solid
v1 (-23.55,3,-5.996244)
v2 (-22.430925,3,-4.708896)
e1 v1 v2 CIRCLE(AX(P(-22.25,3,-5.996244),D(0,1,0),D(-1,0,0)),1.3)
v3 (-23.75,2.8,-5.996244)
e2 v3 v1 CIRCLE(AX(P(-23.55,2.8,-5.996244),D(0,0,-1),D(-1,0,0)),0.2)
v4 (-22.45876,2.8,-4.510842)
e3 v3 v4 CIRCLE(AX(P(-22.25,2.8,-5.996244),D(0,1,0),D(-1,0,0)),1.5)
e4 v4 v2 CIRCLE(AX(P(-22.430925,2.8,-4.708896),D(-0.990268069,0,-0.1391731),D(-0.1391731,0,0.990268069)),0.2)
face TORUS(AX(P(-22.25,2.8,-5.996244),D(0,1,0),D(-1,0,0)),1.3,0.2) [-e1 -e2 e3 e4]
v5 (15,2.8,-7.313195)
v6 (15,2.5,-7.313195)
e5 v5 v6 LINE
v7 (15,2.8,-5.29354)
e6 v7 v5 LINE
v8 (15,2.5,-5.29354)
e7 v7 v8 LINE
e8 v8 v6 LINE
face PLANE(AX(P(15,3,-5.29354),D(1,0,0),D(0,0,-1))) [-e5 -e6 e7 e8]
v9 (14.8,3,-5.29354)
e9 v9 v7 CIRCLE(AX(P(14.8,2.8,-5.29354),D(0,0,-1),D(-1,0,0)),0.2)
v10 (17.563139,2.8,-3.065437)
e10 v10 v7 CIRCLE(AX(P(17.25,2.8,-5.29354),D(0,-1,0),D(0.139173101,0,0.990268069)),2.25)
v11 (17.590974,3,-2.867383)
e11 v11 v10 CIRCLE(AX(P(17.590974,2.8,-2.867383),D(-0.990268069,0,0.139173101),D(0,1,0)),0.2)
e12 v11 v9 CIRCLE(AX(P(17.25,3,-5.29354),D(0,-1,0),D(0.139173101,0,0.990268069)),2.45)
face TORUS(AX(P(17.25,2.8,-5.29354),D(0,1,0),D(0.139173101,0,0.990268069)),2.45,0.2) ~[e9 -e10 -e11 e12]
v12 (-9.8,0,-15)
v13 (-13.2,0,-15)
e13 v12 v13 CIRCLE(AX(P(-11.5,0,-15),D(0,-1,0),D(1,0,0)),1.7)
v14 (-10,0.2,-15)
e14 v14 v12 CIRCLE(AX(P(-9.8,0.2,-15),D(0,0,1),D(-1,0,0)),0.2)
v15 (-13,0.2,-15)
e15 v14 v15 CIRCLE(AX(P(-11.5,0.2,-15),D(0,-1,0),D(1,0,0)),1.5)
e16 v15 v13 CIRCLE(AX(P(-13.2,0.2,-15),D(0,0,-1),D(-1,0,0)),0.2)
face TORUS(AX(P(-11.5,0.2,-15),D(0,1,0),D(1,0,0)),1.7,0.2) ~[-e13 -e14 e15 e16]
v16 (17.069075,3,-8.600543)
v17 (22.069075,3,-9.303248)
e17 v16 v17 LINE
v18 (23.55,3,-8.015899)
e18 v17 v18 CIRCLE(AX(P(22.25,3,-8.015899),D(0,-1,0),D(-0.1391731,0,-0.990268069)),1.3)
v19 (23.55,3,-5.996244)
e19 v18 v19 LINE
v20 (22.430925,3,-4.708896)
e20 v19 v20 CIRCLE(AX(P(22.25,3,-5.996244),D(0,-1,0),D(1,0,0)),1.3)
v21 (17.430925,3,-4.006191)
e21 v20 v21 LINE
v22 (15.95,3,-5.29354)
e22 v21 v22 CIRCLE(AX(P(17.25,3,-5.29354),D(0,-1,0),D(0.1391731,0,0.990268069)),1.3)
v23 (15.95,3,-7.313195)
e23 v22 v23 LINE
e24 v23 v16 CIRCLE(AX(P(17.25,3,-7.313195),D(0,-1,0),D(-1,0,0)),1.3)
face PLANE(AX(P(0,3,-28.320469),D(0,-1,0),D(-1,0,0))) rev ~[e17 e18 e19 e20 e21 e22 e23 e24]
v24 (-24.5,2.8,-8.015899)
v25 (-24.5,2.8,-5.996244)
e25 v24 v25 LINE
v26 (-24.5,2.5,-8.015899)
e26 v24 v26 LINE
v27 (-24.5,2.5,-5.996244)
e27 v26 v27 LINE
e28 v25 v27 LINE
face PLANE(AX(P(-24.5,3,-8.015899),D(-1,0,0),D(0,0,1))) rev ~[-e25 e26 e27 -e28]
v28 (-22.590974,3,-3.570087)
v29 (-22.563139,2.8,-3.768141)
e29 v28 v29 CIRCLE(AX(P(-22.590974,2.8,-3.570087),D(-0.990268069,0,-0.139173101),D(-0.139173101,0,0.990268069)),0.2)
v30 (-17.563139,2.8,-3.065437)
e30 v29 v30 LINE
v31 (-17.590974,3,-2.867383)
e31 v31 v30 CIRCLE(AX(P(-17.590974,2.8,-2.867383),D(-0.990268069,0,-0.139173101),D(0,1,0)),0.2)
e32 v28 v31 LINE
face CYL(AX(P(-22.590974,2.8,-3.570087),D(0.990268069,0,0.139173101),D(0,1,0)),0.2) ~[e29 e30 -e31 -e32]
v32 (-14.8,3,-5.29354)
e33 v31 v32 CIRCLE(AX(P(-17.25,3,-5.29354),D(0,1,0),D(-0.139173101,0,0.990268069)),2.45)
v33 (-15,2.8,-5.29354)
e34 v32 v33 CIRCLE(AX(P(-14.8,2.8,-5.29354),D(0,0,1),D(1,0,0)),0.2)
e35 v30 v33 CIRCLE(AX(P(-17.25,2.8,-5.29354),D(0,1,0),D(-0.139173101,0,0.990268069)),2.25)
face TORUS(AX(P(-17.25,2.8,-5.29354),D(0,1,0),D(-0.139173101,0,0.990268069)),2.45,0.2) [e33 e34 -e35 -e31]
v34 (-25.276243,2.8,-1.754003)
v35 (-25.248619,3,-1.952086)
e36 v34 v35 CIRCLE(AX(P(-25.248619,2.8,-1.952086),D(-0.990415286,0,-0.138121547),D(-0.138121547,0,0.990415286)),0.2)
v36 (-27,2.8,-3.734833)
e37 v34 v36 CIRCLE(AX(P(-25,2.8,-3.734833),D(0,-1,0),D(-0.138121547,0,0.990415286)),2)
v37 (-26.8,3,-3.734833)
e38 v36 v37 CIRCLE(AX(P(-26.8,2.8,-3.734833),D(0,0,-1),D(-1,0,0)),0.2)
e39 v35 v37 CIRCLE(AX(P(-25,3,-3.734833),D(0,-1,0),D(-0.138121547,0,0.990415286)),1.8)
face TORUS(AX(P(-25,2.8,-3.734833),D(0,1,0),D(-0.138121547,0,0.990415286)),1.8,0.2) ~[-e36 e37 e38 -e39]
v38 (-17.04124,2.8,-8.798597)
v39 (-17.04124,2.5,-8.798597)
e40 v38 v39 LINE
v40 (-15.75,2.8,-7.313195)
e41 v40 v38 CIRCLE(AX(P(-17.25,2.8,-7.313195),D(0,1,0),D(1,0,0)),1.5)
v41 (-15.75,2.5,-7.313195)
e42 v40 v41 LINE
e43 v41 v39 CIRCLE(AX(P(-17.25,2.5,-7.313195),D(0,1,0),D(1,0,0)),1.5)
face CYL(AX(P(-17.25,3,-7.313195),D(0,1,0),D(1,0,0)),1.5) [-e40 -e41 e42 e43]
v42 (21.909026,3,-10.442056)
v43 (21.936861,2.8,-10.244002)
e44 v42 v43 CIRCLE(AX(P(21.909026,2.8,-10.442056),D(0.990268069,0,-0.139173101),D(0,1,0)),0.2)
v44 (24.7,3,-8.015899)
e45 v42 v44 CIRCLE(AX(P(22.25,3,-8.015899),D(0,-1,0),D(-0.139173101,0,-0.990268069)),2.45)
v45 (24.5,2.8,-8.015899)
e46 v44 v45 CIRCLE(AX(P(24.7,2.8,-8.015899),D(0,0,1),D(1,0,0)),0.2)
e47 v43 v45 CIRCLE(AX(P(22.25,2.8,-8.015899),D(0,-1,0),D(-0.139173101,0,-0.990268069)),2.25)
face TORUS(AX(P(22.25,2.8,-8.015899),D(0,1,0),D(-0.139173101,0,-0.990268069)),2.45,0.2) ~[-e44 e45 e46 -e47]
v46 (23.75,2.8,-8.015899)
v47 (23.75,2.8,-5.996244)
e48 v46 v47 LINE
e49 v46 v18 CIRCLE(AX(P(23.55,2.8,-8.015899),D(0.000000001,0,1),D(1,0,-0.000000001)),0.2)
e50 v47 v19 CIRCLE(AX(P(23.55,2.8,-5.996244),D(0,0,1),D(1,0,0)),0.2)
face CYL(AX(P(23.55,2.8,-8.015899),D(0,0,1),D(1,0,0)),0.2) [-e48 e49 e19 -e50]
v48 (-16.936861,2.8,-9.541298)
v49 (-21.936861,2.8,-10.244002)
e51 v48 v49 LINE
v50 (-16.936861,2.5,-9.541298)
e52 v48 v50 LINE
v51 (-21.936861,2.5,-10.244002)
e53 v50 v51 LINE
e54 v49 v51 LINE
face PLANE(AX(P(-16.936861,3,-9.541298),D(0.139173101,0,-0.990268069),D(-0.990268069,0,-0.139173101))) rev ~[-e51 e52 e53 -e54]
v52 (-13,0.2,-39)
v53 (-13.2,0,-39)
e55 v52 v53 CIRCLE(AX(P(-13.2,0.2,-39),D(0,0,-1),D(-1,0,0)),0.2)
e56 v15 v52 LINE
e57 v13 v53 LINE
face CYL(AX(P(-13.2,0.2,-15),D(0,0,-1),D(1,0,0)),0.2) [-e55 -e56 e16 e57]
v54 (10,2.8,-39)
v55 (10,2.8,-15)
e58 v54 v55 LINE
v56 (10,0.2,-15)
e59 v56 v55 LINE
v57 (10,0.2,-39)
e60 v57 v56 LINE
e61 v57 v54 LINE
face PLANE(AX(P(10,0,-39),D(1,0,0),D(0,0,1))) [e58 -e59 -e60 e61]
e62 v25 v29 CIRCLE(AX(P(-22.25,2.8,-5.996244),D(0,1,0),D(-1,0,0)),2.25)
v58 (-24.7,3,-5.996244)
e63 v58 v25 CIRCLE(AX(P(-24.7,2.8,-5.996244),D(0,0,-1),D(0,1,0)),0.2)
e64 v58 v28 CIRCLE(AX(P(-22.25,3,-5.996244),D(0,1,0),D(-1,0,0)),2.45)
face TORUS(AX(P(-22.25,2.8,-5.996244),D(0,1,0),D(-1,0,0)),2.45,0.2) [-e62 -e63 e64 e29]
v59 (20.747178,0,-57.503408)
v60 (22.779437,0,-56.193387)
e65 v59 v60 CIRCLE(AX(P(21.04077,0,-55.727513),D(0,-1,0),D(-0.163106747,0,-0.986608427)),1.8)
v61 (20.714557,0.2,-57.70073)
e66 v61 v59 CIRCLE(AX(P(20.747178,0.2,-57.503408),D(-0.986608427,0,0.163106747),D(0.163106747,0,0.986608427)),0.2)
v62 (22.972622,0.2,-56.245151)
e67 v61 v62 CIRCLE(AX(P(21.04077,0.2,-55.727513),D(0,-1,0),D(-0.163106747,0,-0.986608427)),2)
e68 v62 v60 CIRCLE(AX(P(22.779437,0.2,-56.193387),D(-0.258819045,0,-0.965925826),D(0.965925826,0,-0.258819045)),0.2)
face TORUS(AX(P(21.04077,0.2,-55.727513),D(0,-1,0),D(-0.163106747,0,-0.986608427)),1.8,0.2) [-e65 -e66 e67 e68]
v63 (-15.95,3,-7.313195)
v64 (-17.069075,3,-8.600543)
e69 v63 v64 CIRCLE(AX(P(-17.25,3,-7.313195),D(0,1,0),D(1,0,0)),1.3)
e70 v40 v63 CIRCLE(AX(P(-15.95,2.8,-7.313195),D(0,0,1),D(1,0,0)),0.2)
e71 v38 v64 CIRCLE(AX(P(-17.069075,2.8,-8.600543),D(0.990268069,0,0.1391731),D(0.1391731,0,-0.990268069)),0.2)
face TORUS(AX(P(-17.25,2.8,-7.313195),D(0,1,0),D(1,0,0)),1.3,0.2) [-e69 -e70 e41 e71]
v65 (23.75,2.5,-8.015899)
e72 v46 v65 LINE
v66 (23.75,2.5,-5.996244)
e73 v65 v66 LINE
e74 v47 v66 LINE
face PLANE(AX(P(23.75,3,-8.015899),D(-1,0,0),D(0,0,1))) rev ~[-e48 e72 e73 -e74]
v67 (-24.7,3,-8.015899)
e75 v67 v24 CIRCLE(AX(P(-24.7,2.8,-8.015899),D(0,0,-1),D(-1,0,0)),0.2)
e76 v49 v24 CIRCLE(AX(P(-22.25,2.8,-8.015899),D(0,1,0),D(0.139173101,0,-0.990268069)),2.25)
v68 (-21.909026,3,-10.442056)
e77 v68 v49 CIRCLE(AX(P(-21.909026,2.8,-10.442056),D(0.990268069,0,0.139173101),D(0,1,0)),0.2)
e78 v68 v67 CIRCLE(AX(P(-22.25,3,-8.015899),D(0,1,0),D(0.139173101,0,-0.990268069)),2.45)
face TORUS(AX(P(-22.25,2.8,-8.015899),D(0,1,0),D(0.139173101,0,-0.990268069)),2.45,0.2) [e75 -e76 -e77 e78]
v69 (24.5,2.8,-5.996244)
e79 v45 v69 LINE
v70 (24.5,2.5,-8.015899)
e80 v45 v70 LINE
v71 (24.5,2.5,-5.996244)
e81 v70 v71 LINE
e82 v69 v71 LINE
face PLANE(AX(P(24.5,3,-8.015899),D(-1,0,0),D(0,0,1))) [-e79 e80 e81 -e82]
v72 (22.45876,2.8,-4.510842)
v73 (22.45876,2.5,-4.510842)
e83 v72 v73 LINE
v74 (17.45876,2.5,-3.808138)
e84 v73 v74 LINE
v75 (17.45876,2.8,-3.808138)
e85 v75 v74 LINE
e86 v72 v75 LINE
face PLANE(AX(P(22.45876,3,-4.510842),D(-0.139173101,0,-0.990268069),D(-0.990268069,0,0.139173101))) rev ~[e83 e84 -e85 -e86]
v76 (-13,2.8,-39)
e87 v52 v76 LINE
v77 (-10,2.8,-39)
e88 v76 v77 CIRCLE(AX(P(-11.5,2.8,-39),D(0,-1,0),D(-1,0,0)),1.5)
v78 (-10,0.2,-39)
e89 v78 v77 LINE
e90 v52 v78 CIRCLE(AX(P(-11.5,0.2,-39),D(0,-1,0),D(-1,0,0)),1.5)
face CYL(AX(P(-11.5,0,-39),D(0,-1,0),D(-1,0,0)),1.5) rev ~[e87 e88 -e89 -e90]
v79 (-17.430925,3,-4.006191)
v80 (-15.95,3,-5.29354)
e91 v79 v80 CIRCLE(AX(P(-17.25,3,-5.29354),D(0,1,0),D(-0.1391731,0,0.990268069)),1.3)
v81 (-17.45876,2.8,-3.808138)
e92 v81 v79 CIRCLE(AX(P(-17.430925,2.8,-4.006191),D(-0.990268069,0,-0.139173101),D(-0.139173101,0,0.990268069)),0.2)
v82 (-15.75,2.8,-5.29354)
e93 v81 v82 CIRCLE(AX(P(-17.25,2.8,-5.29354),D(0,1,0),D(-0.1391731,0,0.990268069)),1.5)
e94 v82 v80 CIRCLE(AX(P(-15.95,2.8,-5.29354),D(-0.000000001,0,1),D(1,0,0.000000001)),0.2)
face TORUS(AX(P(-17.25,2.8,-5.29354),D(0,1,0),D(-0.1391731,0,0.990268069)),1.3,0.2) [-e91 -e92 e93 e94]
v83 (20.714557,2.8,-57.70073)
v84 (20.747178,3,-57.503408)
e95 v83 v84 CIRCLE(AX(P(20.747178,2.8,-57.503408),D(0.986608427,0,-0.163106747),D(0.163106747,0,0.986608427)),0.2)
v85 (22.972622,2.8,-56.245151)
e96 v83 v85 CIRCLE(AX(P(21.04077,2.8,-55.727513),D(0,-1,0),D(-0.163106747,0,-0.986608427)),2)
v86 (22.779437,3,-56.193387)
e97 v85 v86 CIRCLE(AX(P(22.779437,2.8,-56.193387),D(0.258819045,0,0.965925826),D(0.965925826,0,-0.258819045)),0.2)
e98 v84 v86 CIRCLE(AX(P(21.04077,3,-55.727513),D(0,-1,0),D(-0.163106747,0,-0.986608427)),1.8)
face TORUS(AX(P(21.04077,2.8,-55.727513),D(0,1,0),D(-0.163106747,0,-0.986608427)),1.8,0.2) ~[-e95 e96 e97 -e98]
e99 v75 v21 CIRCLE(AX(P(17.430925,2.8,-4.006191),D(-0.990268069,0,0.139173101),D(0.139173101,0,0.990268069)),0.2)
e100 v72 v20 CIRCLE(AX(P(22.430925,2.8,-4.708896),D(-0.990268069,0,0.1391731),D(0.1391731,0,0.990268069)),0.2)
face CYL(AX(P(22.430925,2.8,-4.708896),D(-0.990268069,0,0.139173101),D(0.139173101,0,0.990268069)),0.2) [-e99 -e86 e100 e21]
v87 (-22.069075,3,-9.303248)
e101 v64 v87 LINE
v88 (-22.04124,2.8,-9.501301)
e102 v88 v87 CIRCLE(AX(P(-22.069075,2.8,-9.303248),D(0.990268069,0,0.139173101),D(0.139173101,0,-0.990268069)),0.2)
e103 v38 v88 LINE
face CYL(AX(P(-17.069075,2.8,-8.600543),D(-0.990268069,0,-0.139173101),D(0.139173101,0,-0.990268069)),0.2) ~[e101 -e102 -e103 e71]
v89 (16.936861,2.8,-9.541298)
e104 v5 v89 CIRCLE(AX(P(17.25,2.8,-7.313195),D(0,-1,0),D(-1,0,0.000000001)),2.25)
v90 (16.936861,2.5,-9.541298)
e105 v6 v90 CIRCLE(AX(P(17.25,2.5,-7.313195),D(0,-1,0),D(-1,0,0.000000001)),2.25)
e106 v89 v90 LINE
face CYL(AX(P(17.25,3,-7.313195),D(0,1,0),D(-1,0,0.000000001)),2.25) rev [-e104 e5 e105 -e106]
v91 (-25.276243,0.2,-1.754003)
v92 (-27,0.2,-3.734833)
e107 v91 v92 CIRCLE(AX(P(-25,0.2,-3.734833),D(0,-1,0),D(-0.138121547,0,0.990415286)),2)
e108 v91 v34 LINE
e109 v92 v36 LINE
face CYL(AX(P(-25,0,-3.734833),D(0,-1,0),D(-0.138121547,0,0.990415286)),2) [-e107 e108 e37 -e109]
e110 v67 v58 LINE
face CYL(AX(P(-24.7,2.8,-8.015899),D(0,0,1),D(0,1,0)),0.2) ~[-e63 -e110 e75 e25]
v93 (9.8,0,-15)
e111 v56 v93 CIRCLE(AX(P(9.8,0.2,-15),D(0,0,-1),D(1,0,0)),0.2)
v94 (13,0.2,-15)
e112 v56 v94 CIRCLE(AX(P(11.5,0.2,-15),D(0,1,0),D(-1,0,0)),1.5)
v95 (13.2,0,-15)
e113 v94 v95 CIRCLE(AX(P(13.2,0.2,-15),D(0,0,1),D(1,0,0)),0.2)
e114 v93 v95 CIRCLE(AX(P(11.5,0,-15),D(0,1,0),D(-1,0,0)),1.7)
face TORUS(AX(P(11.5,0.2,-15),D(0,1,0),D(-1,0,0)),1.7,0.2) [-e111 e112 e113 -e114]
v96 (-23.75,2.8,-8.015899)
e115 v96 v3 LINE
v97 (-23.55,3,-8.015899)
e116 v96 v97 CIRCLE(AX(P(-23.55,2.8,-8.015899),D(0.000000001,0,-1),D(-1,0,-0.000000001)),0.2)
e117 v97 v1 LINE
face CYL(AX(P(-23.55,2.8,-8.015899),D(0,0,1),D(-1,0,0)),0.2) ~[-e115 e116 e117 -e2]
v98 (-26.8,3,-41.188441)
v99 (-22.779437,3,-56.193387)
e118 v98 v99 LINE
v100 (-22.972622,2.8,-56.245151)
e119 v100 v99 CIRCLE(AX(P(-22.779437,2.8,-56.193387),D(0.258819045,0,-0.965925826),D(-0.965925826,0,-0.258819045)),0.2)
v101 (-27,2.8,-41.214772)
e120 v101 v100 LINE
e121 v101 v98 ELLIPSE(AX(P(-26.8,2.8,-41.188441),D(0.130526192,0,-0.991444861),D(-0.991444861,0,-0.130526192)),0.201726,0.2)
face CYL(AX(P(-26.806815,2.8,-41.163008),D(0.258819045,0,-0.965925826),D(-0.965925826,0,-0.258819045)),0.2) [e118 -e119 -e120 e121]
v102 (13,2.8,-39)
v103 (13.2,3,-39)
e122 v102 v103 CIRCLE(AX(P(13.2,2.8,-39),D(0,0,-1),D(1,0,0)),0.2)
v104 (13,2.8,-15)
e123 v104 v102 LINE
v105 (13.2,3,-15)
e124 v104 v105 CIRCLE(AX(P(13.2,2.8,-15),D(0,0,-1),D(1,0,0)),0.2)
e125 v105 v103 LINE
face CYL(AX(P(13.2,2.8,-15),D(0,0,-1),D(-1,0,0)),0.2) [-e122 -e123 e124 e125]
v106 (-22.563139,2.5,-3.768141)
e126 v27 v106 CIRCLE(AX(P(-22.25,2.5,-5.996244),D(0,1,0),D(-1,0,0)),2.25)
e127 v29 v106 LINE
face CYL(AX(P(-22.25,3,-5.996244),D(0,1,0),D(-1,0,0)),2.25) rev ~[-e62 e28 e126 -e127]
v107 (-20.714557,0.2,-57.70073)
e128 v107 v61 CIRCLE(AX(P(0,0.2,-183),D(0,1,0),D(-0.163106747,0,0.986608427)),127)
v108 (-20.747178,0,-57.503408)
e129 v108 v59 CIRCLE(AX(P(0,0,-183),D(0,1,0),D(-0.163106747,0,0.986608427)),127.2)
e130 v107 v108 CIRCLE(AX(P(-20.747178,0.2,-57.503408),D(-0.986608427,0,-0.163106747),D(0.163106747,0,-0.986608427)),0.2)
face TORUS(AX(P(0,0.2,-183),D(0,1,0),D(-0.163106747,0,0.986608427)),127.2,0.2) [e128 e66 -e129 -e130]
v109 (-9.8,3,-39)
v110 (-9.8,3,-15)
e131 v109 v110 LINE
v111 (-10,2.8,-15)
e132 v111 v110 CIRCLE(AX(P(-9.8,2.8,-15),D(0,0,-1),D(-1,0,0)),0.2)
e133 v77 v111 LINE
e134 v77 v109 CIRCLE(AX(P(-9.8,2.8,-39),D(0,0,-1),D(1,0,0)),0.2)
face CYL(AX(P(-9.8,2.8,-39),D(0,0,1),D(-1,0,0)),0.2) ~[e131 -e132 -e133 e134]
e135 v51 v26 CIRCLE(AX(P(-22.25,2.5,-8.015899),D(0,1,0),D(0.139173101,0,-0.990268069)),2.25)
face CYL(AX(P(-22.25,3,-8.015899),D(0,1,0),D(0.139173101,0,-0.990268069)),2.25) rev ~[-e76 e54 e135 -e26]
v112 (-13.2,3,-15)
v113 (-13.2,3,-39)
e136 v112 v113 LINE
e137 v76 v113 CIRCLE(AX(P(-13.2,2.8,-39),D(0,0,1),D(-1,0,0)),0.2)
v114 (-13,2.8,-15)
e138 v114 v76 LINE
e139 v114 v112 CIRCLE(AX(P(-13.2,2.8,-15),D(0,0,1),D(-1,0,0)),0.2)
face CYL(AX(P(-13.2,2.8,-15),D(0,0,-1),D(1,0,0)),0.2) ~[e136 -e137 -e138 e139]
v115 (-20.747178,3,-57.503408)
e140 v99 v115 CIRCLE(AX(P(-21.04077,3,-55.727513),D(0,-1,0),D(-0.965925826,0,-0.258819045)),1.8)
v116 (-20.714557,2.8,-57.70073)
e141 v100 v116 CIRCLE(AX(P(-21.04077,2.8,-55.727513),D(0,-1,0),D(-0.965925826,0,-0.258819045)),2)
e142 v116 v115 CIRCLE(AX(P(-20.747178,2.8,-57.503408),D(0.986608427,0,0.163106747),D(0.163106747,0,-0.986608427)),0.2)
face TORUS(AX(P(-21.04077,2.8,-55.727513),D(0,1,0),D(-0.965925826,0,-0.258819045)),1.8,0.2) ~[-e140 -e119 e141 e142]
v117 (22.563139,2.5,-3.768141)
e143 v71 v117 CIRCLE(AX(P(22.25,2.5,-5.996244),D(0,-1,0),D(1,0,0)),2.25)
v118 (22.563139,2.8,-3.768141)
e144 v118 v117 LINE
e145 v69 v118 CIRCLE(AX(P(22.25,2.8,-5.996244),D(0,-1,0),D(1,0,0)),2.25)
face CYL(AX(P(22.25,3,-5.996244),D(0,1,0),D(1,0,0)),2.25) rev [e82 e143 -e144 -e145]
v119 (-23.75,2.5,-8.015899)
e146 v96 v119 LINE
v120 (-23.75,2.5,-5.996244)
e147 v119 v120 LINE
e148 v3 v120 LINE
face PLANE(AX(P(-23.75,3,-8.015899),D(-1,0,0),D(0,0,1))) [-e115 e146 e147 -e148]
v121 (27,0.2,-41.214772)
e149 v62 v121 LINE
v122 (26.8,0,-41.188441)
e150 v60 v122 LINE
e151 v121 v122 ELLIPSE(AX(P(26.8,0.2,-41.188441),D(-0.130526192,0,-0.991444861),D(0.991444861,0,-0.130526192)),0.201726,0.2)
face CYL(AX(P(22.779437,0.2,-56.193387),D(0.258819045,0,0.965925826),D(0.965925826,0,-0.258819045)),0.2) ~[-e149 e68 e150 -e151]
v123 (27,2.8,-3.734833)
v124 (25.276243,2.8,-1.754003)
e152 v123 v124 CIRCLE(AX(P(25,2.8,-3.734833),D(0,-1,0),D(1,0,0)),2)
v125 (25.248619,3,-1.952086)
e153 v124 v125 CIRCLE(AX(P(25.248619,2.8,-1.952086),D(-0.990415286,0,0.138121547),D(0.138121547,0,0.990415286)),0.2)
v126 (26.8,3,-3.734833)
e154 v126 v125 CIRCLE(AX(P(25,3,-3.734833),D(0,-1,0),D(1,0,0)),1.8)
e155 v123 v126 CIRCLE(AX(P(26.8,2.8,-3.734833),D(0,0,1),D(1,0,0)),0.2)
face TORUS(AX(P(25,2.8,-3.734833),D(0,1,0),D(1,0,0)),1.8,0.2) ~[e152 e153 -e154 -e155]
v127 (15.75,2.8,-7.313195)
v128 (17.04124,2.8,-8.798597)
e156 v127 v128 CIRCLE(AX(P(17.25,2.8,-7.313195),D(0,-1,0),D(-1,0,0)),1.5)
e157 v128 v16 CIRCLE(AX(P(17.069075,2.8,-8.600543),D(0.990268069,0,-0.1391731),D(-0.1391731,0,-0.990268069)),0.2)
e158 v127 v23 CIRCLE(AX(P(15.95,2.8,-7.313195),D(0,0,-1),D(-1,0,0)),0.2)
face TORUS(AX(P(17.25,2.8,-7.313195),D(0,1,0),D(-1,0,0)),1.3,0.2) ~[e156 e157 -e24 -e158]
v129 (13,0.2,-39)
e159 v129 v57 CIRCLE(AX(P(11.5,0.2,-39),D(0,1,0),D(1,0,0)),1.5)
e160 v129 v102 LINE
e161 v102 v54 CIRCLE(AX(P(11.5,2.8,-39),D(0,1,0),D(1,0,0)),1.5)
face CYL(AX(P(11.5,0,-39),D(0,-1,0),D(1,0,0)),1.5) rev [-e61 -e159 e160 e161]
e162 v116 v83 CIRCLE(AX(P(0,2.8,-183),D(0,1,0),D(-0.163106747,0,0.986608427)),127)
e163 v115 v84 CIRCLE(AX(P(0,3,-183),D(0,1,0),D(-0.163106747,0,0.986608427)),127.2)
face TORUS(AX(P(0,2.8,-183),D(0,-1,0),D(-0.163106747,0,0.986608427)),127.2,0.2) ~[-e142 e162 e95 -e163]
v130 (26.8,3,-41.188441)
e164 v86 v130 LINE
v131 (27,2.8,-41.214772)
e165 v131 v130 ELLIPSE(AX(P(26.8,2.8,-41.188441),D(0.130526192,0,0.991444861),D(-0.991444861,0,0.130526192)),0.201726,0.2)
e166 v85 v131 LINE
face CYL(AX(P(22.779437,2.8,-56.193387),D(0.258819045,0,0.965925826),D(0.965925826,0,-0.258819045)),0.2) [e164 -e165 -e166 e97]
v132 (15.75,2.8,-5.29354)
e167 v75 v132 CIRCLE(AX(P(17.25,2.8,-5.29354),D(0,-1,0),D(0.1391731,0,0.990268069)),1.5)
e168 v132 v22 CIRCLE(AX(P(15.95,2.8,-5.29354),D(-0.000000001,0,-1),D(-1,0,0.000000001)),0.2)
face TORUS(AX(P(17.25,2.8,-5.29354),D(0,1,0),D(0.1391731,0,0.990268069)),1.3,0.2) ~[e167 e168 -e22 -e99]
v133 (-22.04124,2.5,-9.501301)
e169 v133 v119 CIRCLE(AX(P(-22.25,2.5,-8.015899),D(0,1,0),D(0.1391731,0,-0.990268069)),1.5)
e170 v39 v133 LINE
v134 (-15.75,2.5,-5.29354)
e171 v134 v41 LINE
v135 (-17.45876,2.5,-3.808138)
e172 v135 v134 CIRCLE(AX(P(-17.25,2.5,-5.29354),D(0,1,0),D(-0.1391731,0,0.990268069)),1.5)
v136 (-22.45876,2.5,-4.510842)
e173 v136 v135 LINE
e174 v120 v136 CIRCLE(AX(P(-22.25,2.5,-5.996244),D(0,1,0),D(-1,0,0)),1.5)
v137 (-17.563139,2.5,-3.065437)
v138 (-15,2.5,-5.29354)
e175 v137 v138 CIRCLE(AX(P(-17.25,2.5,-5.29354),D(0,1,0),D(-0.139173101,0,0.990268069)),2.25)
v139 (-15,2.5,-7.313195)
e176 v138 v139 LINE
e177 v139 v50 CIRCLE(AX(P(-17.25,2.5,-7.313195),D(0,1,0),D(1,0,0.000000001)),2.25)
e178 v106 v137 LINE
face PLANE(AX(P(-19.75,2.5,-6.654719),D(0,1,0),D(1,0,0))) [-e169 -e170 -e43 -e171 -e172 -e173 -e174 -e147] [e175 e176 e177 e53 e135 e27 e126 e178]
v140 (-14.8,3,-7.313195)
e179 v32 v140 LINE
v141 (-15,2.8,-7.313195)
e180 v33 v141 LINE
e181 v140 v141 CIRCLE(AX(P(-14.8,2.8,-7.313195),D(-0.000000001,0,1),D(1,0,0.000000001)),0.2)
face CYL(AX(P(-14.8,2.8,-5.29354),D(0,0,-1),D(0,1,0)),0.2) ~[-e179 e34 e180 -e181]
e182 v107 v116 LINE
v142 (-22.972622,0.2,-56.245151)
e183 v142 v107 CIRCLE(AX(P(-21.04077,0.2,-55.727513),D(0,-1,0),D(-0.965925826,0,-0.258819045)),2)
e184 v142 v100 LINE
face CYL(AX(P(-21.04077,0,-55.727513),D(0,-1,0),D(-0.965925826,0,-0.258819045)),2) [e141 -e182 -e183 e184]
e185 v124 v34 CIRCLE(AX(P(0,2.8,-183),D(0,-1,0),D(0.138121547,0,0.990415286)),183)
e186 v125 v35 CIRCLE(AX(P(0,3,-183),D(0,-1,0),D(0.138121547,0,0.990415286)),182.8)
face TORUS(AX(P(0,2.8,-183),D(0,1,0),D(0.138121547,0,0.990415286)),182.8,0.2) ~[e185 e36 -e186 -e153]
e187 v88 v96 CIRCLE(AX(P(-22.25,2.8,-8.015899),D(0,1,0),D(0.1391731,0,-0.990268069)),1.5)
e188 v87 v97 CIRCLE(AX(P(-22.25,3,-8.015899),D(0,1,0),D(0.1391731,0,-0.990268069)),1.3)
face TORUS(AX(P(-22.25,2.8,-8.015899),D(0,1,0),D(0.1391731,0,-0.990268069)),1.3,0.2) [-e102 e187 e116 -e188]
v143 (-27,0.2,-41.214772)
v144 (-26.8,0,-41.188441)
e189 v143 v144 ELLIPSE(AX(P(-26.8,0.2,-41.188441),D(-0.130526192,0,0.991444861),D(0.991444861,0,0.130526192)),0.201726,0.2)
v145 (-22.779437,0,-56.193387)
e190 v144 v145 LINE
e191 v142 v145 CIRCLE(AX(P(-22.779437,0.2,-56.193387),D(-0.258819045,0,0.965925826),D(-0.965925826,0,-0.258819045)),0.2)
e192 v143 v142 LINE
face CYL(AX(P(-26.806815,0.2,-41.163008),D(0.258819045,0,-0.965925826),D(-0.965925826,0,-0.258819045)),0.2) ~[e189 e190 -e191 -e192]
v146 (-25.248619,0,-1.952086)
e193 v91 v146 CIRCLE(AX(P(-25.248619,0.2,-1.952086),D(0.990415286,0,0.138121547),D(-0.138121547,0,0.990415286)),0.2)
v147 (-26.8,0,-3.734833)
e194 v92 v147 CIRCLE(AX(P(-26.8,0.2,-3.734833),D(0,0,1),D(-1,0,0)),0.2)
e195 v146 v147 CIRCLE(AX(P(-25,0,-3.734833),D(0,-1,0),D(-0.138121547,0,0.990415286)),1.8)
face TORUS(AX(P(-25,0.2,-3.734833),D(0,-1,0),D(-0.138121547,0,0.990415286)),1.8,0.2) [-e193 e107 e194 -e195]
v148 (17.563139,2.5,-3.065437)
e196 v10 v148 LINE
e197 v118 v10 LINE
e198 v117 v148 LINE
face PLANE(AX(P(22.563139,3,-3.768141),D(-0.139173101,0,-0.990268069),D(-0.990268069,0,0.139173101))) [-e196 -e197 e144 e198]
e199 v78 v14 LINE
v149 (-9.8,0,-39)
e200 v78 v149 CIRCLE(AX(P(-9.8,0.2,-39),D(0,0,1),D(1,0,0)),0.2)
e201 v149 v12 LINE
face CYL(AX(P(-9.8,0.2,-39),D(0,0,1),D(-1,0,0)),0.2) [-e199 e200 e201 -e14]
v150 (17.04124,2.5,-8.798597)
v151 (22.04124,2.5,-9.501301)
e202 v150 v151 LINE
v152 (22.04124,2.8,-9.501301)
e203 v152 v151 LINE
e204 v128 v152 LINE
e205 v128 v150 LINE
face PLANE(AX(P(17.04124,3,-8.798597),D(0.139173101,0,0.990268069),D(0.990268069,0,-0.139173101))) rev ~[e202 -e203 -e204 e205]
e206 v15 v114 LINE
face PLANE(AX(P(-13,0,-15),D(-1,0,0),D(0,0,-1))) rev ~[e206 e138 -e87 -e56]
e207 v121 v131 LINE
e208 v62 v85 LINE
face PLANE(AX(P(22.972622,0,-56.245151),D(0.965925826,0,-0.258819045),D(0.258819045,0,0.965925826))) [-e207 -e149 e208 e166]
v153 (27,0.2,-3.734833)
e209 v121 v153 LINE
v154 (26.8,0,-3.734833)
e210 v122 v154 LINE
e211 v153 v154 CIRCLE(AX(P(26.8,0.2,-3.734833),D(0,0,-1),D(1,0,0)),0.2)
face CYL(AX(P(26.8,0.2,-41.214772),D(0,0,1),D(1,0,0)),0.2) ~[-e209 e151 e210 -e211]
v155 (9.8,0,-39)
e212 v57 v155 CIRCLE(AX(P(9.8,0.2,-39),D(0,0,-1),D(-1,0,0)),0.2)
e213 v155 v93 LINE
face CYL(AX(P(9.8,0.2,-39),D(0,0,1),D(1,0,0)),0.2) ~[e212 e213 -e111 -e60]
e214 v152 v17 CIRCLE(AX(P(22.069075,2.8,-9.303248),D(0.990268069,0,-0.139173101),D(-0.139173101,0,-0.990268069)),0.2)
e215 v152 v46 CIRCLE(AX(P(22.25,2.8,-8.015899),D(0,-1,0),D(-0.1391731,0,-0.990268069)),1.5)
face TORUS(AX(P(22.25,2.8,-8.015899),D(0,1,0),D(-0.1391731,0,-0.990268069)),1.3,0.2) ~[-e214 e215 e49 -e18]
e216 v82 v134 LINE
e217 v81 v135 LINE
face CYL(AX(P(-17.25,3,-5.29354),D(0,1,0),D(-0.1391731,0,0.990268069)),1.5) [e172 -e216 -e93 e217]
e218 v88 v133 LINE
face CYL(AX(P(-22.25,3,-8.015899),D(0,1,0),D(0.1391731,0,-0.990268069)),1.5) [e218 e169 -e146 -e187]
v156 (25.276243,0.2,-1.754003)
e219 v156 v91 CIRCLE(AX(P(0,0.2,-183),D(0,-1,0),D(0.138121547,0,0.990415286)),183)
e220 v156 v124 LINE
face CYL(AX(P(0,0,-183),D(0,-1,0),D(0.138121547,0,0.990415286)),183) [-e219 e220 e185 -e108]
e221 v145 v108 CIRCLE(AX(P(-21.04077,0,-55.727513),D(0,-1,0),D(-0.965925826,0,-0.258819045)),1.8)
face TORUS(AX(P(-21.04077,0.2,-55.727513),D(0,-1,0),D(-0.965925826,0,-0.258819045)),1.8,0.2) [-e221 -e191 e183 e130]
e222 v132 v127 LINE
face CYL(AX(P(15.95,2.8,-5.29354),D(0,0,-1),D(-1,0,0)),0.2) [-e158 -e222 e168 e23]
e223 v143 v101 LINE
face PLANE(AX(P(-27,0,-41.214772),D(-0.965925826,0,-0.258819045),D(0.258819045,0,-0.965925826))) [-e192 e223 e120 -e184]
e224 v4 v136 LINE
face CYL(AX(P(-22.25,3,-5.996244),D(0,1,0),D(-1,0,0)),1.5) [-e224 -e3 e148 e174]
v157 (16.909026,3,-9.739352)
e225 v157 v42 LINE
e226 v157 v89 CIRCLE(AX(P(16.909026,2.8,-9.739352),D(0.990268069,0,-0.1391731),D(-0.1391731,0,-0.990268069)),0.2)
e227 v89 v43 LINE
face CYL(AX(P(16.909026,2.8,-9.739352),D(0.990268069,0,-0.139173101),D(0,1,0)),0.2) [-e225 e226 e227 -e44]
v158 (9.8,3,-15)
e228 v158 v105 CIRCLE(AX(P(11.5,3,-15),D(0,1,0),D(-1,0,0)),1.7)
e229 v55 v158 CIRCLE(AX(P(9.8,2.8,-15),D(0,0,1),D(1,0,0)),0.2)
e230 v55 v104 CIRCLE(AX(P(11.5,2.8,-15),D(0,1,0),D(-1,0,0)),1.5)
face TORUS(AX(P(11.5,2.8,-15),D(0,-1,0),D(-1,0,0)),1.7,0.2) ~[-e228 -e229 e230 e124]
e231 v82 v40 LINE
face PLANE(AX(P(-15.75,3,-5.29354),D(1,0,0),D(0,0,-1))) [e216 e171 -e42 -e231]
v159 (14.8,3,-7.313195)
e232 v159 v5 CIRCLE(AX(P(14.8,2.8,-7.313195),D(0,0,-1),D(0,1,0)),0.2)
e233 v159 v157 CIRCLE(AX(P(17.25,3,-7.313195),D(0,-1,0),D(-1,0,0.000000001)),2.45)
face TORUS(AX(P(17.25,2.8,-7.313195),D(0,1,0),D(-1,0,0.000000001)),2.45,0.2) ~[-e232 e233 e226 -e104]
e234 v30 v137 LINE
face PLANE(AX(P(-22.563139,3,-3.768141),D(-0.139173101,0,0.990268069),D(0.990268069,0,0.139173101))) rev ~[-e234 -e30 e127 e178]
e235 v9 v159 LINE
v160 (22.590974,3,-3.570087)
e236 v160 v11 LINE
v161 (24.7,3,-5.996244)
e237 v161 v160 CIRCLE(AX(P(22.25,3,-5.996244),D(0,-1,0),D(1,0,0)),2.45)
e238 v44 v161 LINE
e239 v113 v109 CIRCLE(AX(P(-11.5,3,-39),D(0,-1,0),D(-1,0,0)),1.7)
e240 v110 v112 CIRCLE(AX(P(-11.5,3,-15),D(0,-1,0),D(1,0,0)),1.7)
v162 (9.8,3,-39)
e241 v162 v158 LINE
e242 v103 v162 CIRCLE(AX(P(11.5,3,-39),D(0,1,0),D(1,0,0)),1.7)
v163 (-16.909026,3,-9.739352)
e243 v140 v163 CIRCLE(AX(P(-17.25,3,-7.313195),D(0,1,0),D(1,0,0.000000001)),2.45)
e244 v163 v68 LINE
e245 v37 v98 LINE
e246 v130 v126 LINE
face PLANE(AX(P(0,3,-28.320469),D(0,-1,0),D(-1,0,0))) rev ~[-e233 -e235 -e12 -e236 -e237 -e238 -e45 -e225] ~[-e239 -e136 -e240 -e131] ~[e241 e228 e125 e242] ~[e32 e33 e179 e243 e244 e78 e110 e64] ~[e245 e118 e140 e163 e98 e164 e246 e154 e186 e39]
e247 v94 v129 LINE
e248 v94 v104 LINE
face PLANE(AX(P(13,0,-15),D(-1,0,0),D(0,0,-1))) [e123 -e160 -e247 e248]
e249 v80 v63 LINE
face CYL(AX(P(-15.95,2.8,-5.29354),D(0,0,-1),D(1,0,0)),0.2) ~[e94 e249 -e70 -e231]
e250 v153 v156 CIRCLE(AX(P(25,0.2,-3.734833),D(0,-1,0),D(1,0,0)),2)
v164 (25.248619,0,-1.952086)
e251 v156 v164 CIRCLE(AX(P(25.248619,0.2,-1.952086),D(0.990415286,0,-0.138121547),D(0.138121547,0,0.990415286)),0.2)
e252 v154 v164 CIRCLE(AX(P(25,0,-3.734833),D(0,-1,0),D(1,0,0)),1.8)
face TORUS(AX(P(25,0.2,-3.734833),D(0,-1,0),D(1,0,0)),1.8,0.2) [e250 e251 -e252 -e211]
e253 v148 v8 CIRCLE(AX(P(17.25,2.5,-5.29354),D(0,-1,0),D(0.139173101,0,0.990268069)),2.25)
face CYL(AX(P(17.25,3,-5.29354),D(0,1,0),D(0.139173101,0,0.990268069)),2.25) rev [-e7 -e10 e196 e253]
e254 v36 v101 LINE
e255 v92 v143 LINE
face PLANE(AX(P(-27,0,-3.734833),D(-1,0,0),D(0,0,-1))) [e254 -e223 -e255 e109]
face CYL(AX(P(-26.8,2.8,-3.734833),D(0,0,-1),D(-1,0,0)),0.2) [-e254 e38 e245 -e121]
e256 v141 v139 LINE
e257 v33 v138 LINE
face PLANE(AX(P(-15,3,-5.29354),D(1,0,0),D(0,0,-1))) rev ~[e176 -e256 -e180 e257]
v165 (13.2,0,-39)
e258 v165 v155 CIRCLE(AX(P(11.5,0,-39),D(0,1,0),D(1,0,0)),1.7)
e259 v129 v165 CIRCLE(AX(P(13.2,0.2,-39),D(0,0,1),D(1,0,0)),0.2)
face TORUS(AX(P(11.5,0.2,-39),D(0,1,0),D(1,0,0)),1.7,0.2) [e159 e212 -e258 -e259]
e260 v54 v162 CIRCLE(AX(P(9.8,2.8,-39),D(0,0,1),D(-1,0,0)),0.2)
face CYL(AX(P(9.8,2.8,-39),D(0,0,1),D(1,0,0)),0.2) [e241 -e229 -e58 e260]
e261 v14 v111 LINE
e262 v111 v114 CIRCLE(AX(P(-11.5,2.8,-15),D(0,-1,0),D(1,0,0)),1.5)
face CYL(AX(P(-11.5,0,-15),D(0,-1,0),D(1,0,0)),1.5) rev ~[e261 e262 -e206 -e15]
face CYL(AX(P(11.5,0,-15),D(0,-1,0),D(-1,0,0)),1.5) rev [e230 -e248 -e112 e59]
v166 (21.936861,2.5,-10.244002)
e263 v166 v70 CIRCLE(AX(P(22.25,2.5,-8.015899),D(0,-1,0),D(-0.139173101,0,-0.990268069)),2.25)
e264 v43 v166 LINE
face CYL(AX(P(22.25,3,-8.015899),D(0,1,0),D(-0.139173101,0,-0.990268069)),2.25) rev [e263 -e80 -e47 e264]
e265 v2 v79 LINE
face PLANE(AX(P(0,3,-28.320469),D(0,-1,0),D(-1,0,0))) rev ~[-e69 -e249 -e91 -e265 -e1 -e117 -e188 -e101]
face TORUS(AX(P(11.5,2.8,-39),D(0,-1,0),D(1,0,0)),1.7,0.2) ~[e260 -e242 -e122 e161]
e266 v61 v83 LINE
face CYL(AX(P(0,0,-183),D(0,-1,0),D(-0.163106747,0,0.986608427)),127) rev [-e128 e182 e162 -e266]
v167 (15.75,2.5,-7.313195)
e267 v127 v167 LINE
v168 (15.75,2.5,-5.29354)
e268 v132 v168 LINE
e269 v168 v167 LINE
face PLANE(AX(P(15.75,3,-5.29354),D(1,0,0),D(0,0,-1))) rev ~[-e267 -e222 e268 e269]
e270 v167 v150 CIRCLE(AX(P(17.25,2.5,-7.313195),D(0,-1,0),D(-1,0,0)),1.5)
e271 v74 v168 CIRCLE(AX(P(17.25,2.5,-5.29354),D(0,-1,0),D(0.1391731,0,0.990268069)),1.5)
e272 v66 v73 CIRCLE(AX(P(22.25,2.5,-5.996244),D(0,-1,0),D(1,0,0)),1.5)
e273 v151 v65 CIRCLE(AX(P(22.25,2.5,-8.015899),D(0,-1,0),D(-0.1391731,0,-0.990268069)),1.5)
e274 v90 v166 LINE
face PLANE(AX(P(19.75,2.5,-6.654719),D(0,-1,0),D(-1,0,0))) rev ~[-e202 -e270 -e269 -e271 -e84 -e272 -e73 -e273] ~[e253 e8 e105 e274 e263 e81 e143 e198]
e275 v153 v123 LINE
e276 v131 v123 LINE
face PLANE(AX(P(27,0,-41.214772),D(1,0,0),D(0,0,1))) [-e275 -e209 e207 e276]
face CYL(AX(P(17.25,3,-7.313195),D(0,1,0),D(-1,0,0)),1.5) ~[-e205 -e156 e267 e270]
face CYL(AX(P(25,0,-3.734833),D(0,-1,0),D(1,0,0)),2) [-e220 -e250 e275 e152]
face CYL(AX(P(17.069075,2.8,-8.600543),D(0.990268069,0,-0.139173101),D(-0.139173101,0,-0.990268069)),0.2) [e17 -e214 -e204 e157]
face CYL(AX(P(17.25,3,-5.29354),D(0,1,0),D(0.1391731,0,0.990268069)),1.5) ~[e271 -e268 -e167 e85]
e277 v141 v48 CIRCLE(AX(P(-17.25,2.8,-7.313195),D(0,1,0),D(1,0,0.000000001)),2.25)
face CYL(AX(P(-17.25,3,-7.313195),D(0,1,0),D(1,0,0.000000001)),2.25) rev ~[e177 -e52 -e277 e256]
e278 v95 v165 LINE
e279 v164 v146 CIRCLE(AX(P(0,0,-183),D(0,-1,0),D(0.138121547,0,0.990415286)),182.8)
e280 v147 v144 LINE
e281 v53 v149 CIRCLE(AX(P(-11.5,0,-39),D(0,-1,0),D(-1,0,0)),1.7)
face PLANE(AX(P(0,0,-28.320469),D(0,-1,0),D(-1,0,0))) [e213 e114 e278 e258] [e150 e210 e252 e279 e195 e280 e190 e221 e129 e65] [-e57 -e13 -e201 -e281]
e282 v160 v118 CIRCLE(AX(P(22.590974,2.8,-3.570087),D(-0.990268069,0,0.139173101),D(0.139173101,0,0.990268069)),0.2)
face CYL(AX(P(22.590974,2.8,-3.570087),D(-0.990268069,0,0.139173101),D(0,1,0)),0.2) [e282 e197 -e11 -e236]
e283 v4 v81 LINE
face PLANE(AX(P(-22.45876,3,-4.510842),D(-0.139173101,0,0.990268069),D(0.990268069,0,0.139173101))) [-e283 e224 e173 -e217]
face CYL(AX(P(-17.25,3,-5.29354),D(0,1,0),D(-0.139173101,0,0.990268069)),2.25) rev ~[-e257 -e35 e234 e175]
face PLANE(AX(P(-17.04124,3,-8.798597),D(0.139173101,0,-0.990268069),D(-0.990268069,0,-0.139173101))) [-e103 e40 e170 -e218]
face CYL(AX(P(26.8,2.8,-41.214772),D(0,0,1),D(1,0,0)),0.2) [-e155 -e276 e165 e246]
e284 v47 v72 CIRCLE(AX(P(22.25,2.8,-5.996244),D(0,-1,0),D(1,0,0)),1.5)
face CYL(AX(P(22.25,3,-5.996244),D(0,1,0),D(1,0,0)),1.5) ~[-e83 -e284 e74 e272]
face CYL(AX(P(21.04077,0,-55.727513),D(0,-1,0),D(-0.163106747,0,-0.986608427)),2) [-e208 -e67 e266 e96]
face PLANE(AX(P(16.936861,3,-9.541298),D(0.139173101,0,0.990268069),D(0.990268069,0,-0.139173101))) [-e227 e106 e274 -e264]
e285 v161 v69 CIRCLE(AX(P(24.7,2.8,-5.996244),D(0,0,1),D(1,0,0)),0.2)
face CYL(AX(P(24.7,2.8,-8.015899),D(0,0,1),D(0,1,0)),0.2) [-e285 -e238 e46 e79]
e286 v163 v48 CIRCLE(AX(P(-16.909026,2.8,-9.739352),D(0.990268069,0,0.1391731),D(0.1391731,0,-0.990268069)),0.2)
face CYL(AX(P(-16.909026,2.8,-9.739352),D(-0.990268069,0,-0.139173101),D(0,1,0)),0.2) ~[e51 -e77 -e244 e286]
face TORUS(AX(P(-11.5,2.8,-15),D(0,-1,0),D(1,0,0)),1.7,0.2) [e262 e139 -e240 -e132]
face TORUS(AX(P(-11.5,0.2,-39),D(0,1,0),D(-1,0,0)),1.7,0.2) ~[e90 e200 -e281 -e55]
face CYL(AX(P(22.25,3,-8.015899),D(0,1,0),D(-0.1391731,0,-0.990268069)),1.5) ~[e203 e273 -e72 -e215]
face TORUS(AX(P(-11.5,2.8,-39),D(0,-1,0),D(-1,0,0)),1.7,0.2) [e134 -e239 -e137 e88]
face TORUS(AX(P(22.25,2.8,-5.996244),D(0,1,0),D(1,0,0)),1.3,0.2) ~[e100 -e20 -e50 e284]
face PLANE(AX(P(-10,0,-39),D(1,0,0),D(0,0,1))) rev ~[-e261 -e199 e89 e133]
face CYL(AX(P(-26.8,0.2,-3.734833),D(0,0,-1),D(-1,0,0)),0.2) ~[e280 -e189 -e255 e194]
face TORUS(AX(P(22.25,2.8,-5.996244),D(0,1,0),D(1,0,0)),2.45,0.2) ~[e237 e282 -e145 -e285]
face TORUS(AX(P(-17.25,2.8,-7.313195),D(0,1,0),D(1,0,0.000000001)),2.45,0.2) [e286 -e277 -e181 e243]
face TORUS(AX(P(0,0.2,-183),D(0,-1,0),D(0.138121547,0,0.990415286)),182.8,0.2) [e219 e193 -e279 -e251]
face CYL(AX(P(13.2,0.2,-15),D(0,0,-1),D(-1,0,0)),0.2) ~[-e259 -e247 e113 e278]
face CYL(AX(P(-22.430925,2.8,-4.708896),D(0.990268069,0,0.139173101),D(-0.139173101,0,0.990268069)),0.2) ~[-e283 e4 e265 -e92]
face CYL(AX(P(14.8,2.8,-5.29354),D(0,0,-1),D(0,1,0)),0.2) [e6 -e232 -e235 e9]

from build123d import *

# Parameters (mm, degrees)
BOSS_EXTRUDE1_DEPTH = 3
FILLET1_R           = 0.2
CUT_EXTRUDE1_DEPTH  = 0.5
FILLET2_R           = 0.2


with BuildPart() as part:
    # Sketch1 → Boss-Extrude1 (new body)
    with BuildSketch(Plane(origin=(0, 0, 0), x_dir=(1, 0, 0), z_dir=(0, 1, 0))):
        with BuildLine():
            Line((-27, 3.734833278), (-27, 41.21477169))
            Line((-27, 41.21477169), (-22.972622015, 56.245150951))
            ThreePointArc((-22.972622015, 56.245150951), (-22.124373546, 57.408525693), (-20.714556868, 57.700729716))
            ThreePointArc((-20.714556868, 57.700729716), (0, 56), (20.714556868, 57.700729716))
            ThreePointArc((20.714556868, 57.700729716), (22.124373546, 57.408525693), (22.972622015, 56.245150951))
            Line((22.972622015, 56.245150951), (27, 41.21477169))
            Line((27, 41.21477169), (27, 3.734833278))
            ThreePointArc((27, 3.734833278), (26.508722338, 2.421914047), (25.276243094, 1.754002706))
            ThreePointArc((25.276243094, 1.754002706), (0, 0), (-25.276243094, 1.754002706))
            ThreePointArc((-25.276243094, 1.754002706), (-26.508722338, 2.421914047), (-27, 3.734833278))
        make_face()
        with BuildLine():
            Line((-10, 39), (-10, 15))
            ThreePointArc((-10, 15), (-11.5, 13.5), (-13, 15))
            Line((-13, 15), (-13, 39))
            ThreePointArc((-13, 39), (-11.5, 40.5), (-10, 39))
        make_face(mode=Mode.SUBTRACT)
        with BuildLine():
            Line((10, 39), (10, 15))
            ThreePointArc((10, 15), (11.5, 13.5), (13, 15))
            Line((13, 15), (13, 39))
            ThreePointArc((13, 39), (11.5, 40.5), (10, 39))
        make_face(mode=Mode.SUBTRACT)
    extrude(amount=BOSS_EXTRUDE1_DEPTH)

    # Fillet1
    fillet1_edges = [part.edges().sort_by_distance(p)[0] for p in [
        (26.508722338, 3, -2.421914047),
        (-22.124373546, 0, -57.408525693),
        (0, 0, -56),
        (22.124373546, 0, -57.408525693),
        (24.986311008, 0, -48.729961321),
        (27, 0, -22.474802484),
        (26.508722338, 0, -2.421914047),
        (0, 0, 0),
        (-26.508722338, 0, -2.421914047),
        (27, 3, -22.474802484),
        (24.986311008, 3, -48.729961321),
        (22.124373546, 3, -57.408525693),
        (0, 3, -56),
        (-22.124373546, 3, -57.408525693),
        (-24.986311008, 3, -48.729961321),
        (-11.5, 0, -40.5),
        (-13, 0, -27),
        (-11.5, 0, -13.5),
        (-10, 0, -27),
        (-11.5, 3, -40.5),
        (-13, 3, -27),
        (-11.5, 3, -13.5),
        (-10, 3, -27),
        (-27, 3, -22.474802484),
        (-26.508722338, 3, -2.421914047),
        (11.5, 0, -40.5),
        (10, 0, -27),
        (11.5, 0, -13.5),
        (13, 0, -27),
        (11.5, 3, -40.5),
        (10, 3, -27),
        (11.5, 3, -13.5),
        (13, 3, -27),
        (0, 3, 0),
        (-27, 0, -22.474802484),
        (-24.986311008, 0, -48.729961321),
    ]]
    fillet(fillet1_edges, radius=FILLET1_R)

    # Sketch2 → Cut-Extrude1 (cut)
    # profile 1 of 2: a face of its own
    with BuildSketch(Plane(origin=(0, 3, 0), x_dir=(1, 0, 0), z_dir=(0, 1, 0))):
        with BuildLine():
            Line((-16.936860523, 9.541298132), (-21.936860523, 10.244002305))
            ThreePointArc((-21.936860523, 10.244002305), (-23.726132815, 9.713995706), (-24.5, 8.015899151))
            Line((-24.5, 8.015899151), (-24.5, 5.996244006))
            ThreePointArc((-24.5, 5.996244006), (-23.948096556, 4.520111191), (-22.563139477, 3.768140851))
            Line((-22.563139477, 3.768140851), (-17.563139477, 3.065436678))
            ThreePointArc((-17.563139477, 3.065436678), (-15.773867185, 3.595443277), (-15, 5.293539832))
            Line((-15, 5.293539832), (-15, 7.313194977))
            ThreePointArc((-15, 7.313194977), (-15.551903444, 8.789327793), (-16.936860523, 9.541298132))
        make_face()
        with BuildLine():
            Line((-23.75, 8.015899151), (-23.75, 5.996244006))
            ThreePointArc((-23.75, 5.996244006), (-23.38206437, 5.012155462), (-22.458759651, 4.510841903))
            Line((-22.458759651, 4.510841903), (-17.458759651, 3.808137729))
            ThreePointArc((-17.458759651, 3.808137729), (-16.265911457, 4.161475462), (-15.75, 5.293539832))
            Line((-15.75, 5.293539832), (-15.75, 7.313194977))
            ThreePointArc((-15.75, 7.313194977), (-16.11793563, 8.297283521), (-17.041240349, 8.79859708))
            Line((-17.041240349, 8.79859708), (-22.041240349, 9.501301254))
            ThreePointArc((-22.041240349, 9.501301254), (-23.234088543, 9.147963521), (-23.75, 8.015899151))
        make_face(mode=Mode.SUBTRACT)
    # profile 2 of 2: a face of its own
    with BuildSketch(Plane(origin=(0, 3, 0), x_dir=(1, 0, 0), z_dir=(0, 1, 0))):
        with BuildLine():
            Line((15, 5.293539832), (15, 7.313194977))
            ThreePointArc((15, 7.313194977), (15.551903444, 8.789327793), (16.936860523, 9.541298132))
            Line((16.936860523, 9.541298132), (21.936860523, 10.244002305))
            ThreePointArc((21.936860523, 10.244002305), (23.726132815, 9.713995706), (24.5, 8.015899151))
            Line((24.5, 8.015899151), (24.5, 5.996244006))
            ThreePointArc((24.5, 5.996244006), (23.948096556, 4.520111191), (22.563139477, 3.768140851))
            Line((22.563139477, 3.768140851), (17.563139477, 3.065436678))
            ThreePointArc((17.563139477, 3.065436678), (15.773867185, 3.595443277), (15, 5.293539832))
        make_face()
        with BuildLine():
            Line((17.041240349, 8.79859708), (22.041240349, 9.501301254))
            ThreePointArc((22.041240349, 9.501301254), (23.234088543, 9.147963521), (23.75, 8.015899151))
            Line((23.75, 8.015899151), (23.75, 5.996244006))
            ThreePointArc((23.75, 5.996244006), (23.38206437, 5.012155462), (22.458759651, 4.510841903))
            Line((22.458759651, 4.510841903), (17.458759651, 3.808137729))
            ThreePointArc((17.458759651, 3.808137729), (16.265911457, 4.161475462), (15.75, 5.293539832))
            Line((15.75, 5.293539832), (15.75, 7.313194977))
            ThreePointArc((15.75, 7.313194977), (16.11793563, 8.297283521), (17.041240349, 8.79859708))
        make_face(mode=Mode.SUBTRACT)
    extrude(amount=-CUT_EXTRUDE1_DEPTH, mode=Mode.SUBTRACT)

    # Fillet2
    fillet2_edges = [part.edges().sort_by_distance(p)[0] for p in [
        (-15.551903444, 3, -8.789327793),
        (-19.436860523, 3, -9.892650219),
        (-23.726132815, 3, -9.713995706),
        (-24.5, 3, -7.006071578),
        (-23.948096556, 3, -4.520111191),
        (-20.063139477, 3, -3.416788764),
        (-15.773867185, 3, -3.595443277),
        (-15, 3, -6.303367405),
        (-16.11793563, 3, -8.297283521),
        (-15.75, 3, -6.303367405),
        (-16.265911457, 3, -4.161475462),
        (-19.958759651, 3, -4.159489816),
        (-23.38206437, 3, -5.012155462),
        (-23.75, 3, -7.006071578),
        (-23.234088543, 3, -9.147963521),
        (-19.541240349, 3, -9.149949167),
        (23.948096556, 3, -4.520111191),
        (24.5, 3, -7.006071578),
        (23.726132815, 3, -9.713995706),
        (19.436860523, 3, -9.892650219),
        (15.551903444, 3, -8.789327793),
        (15, 3, -6.303367405),
        (15.773867185, 3, -3.595443277),
        (20.063139477, 3, -3.416788764),
        (16.11793563, 3, -8.297283521),
        (19.541240349, 3, -9.149949167),
        (23.234088543, 3, -9.147963521),
        (23.75, 3, -7.006071578),
        (23.38206437, 3, -5.012155462),
        (19.958759651, 3, -4.159489816),
        (16.265911457, 3, -4.161475462),
        (15.75, 3, -6.303367405),
    ]]
    fillet(fillet2_edges, radius=FILLET2_R)


solid = part.part
